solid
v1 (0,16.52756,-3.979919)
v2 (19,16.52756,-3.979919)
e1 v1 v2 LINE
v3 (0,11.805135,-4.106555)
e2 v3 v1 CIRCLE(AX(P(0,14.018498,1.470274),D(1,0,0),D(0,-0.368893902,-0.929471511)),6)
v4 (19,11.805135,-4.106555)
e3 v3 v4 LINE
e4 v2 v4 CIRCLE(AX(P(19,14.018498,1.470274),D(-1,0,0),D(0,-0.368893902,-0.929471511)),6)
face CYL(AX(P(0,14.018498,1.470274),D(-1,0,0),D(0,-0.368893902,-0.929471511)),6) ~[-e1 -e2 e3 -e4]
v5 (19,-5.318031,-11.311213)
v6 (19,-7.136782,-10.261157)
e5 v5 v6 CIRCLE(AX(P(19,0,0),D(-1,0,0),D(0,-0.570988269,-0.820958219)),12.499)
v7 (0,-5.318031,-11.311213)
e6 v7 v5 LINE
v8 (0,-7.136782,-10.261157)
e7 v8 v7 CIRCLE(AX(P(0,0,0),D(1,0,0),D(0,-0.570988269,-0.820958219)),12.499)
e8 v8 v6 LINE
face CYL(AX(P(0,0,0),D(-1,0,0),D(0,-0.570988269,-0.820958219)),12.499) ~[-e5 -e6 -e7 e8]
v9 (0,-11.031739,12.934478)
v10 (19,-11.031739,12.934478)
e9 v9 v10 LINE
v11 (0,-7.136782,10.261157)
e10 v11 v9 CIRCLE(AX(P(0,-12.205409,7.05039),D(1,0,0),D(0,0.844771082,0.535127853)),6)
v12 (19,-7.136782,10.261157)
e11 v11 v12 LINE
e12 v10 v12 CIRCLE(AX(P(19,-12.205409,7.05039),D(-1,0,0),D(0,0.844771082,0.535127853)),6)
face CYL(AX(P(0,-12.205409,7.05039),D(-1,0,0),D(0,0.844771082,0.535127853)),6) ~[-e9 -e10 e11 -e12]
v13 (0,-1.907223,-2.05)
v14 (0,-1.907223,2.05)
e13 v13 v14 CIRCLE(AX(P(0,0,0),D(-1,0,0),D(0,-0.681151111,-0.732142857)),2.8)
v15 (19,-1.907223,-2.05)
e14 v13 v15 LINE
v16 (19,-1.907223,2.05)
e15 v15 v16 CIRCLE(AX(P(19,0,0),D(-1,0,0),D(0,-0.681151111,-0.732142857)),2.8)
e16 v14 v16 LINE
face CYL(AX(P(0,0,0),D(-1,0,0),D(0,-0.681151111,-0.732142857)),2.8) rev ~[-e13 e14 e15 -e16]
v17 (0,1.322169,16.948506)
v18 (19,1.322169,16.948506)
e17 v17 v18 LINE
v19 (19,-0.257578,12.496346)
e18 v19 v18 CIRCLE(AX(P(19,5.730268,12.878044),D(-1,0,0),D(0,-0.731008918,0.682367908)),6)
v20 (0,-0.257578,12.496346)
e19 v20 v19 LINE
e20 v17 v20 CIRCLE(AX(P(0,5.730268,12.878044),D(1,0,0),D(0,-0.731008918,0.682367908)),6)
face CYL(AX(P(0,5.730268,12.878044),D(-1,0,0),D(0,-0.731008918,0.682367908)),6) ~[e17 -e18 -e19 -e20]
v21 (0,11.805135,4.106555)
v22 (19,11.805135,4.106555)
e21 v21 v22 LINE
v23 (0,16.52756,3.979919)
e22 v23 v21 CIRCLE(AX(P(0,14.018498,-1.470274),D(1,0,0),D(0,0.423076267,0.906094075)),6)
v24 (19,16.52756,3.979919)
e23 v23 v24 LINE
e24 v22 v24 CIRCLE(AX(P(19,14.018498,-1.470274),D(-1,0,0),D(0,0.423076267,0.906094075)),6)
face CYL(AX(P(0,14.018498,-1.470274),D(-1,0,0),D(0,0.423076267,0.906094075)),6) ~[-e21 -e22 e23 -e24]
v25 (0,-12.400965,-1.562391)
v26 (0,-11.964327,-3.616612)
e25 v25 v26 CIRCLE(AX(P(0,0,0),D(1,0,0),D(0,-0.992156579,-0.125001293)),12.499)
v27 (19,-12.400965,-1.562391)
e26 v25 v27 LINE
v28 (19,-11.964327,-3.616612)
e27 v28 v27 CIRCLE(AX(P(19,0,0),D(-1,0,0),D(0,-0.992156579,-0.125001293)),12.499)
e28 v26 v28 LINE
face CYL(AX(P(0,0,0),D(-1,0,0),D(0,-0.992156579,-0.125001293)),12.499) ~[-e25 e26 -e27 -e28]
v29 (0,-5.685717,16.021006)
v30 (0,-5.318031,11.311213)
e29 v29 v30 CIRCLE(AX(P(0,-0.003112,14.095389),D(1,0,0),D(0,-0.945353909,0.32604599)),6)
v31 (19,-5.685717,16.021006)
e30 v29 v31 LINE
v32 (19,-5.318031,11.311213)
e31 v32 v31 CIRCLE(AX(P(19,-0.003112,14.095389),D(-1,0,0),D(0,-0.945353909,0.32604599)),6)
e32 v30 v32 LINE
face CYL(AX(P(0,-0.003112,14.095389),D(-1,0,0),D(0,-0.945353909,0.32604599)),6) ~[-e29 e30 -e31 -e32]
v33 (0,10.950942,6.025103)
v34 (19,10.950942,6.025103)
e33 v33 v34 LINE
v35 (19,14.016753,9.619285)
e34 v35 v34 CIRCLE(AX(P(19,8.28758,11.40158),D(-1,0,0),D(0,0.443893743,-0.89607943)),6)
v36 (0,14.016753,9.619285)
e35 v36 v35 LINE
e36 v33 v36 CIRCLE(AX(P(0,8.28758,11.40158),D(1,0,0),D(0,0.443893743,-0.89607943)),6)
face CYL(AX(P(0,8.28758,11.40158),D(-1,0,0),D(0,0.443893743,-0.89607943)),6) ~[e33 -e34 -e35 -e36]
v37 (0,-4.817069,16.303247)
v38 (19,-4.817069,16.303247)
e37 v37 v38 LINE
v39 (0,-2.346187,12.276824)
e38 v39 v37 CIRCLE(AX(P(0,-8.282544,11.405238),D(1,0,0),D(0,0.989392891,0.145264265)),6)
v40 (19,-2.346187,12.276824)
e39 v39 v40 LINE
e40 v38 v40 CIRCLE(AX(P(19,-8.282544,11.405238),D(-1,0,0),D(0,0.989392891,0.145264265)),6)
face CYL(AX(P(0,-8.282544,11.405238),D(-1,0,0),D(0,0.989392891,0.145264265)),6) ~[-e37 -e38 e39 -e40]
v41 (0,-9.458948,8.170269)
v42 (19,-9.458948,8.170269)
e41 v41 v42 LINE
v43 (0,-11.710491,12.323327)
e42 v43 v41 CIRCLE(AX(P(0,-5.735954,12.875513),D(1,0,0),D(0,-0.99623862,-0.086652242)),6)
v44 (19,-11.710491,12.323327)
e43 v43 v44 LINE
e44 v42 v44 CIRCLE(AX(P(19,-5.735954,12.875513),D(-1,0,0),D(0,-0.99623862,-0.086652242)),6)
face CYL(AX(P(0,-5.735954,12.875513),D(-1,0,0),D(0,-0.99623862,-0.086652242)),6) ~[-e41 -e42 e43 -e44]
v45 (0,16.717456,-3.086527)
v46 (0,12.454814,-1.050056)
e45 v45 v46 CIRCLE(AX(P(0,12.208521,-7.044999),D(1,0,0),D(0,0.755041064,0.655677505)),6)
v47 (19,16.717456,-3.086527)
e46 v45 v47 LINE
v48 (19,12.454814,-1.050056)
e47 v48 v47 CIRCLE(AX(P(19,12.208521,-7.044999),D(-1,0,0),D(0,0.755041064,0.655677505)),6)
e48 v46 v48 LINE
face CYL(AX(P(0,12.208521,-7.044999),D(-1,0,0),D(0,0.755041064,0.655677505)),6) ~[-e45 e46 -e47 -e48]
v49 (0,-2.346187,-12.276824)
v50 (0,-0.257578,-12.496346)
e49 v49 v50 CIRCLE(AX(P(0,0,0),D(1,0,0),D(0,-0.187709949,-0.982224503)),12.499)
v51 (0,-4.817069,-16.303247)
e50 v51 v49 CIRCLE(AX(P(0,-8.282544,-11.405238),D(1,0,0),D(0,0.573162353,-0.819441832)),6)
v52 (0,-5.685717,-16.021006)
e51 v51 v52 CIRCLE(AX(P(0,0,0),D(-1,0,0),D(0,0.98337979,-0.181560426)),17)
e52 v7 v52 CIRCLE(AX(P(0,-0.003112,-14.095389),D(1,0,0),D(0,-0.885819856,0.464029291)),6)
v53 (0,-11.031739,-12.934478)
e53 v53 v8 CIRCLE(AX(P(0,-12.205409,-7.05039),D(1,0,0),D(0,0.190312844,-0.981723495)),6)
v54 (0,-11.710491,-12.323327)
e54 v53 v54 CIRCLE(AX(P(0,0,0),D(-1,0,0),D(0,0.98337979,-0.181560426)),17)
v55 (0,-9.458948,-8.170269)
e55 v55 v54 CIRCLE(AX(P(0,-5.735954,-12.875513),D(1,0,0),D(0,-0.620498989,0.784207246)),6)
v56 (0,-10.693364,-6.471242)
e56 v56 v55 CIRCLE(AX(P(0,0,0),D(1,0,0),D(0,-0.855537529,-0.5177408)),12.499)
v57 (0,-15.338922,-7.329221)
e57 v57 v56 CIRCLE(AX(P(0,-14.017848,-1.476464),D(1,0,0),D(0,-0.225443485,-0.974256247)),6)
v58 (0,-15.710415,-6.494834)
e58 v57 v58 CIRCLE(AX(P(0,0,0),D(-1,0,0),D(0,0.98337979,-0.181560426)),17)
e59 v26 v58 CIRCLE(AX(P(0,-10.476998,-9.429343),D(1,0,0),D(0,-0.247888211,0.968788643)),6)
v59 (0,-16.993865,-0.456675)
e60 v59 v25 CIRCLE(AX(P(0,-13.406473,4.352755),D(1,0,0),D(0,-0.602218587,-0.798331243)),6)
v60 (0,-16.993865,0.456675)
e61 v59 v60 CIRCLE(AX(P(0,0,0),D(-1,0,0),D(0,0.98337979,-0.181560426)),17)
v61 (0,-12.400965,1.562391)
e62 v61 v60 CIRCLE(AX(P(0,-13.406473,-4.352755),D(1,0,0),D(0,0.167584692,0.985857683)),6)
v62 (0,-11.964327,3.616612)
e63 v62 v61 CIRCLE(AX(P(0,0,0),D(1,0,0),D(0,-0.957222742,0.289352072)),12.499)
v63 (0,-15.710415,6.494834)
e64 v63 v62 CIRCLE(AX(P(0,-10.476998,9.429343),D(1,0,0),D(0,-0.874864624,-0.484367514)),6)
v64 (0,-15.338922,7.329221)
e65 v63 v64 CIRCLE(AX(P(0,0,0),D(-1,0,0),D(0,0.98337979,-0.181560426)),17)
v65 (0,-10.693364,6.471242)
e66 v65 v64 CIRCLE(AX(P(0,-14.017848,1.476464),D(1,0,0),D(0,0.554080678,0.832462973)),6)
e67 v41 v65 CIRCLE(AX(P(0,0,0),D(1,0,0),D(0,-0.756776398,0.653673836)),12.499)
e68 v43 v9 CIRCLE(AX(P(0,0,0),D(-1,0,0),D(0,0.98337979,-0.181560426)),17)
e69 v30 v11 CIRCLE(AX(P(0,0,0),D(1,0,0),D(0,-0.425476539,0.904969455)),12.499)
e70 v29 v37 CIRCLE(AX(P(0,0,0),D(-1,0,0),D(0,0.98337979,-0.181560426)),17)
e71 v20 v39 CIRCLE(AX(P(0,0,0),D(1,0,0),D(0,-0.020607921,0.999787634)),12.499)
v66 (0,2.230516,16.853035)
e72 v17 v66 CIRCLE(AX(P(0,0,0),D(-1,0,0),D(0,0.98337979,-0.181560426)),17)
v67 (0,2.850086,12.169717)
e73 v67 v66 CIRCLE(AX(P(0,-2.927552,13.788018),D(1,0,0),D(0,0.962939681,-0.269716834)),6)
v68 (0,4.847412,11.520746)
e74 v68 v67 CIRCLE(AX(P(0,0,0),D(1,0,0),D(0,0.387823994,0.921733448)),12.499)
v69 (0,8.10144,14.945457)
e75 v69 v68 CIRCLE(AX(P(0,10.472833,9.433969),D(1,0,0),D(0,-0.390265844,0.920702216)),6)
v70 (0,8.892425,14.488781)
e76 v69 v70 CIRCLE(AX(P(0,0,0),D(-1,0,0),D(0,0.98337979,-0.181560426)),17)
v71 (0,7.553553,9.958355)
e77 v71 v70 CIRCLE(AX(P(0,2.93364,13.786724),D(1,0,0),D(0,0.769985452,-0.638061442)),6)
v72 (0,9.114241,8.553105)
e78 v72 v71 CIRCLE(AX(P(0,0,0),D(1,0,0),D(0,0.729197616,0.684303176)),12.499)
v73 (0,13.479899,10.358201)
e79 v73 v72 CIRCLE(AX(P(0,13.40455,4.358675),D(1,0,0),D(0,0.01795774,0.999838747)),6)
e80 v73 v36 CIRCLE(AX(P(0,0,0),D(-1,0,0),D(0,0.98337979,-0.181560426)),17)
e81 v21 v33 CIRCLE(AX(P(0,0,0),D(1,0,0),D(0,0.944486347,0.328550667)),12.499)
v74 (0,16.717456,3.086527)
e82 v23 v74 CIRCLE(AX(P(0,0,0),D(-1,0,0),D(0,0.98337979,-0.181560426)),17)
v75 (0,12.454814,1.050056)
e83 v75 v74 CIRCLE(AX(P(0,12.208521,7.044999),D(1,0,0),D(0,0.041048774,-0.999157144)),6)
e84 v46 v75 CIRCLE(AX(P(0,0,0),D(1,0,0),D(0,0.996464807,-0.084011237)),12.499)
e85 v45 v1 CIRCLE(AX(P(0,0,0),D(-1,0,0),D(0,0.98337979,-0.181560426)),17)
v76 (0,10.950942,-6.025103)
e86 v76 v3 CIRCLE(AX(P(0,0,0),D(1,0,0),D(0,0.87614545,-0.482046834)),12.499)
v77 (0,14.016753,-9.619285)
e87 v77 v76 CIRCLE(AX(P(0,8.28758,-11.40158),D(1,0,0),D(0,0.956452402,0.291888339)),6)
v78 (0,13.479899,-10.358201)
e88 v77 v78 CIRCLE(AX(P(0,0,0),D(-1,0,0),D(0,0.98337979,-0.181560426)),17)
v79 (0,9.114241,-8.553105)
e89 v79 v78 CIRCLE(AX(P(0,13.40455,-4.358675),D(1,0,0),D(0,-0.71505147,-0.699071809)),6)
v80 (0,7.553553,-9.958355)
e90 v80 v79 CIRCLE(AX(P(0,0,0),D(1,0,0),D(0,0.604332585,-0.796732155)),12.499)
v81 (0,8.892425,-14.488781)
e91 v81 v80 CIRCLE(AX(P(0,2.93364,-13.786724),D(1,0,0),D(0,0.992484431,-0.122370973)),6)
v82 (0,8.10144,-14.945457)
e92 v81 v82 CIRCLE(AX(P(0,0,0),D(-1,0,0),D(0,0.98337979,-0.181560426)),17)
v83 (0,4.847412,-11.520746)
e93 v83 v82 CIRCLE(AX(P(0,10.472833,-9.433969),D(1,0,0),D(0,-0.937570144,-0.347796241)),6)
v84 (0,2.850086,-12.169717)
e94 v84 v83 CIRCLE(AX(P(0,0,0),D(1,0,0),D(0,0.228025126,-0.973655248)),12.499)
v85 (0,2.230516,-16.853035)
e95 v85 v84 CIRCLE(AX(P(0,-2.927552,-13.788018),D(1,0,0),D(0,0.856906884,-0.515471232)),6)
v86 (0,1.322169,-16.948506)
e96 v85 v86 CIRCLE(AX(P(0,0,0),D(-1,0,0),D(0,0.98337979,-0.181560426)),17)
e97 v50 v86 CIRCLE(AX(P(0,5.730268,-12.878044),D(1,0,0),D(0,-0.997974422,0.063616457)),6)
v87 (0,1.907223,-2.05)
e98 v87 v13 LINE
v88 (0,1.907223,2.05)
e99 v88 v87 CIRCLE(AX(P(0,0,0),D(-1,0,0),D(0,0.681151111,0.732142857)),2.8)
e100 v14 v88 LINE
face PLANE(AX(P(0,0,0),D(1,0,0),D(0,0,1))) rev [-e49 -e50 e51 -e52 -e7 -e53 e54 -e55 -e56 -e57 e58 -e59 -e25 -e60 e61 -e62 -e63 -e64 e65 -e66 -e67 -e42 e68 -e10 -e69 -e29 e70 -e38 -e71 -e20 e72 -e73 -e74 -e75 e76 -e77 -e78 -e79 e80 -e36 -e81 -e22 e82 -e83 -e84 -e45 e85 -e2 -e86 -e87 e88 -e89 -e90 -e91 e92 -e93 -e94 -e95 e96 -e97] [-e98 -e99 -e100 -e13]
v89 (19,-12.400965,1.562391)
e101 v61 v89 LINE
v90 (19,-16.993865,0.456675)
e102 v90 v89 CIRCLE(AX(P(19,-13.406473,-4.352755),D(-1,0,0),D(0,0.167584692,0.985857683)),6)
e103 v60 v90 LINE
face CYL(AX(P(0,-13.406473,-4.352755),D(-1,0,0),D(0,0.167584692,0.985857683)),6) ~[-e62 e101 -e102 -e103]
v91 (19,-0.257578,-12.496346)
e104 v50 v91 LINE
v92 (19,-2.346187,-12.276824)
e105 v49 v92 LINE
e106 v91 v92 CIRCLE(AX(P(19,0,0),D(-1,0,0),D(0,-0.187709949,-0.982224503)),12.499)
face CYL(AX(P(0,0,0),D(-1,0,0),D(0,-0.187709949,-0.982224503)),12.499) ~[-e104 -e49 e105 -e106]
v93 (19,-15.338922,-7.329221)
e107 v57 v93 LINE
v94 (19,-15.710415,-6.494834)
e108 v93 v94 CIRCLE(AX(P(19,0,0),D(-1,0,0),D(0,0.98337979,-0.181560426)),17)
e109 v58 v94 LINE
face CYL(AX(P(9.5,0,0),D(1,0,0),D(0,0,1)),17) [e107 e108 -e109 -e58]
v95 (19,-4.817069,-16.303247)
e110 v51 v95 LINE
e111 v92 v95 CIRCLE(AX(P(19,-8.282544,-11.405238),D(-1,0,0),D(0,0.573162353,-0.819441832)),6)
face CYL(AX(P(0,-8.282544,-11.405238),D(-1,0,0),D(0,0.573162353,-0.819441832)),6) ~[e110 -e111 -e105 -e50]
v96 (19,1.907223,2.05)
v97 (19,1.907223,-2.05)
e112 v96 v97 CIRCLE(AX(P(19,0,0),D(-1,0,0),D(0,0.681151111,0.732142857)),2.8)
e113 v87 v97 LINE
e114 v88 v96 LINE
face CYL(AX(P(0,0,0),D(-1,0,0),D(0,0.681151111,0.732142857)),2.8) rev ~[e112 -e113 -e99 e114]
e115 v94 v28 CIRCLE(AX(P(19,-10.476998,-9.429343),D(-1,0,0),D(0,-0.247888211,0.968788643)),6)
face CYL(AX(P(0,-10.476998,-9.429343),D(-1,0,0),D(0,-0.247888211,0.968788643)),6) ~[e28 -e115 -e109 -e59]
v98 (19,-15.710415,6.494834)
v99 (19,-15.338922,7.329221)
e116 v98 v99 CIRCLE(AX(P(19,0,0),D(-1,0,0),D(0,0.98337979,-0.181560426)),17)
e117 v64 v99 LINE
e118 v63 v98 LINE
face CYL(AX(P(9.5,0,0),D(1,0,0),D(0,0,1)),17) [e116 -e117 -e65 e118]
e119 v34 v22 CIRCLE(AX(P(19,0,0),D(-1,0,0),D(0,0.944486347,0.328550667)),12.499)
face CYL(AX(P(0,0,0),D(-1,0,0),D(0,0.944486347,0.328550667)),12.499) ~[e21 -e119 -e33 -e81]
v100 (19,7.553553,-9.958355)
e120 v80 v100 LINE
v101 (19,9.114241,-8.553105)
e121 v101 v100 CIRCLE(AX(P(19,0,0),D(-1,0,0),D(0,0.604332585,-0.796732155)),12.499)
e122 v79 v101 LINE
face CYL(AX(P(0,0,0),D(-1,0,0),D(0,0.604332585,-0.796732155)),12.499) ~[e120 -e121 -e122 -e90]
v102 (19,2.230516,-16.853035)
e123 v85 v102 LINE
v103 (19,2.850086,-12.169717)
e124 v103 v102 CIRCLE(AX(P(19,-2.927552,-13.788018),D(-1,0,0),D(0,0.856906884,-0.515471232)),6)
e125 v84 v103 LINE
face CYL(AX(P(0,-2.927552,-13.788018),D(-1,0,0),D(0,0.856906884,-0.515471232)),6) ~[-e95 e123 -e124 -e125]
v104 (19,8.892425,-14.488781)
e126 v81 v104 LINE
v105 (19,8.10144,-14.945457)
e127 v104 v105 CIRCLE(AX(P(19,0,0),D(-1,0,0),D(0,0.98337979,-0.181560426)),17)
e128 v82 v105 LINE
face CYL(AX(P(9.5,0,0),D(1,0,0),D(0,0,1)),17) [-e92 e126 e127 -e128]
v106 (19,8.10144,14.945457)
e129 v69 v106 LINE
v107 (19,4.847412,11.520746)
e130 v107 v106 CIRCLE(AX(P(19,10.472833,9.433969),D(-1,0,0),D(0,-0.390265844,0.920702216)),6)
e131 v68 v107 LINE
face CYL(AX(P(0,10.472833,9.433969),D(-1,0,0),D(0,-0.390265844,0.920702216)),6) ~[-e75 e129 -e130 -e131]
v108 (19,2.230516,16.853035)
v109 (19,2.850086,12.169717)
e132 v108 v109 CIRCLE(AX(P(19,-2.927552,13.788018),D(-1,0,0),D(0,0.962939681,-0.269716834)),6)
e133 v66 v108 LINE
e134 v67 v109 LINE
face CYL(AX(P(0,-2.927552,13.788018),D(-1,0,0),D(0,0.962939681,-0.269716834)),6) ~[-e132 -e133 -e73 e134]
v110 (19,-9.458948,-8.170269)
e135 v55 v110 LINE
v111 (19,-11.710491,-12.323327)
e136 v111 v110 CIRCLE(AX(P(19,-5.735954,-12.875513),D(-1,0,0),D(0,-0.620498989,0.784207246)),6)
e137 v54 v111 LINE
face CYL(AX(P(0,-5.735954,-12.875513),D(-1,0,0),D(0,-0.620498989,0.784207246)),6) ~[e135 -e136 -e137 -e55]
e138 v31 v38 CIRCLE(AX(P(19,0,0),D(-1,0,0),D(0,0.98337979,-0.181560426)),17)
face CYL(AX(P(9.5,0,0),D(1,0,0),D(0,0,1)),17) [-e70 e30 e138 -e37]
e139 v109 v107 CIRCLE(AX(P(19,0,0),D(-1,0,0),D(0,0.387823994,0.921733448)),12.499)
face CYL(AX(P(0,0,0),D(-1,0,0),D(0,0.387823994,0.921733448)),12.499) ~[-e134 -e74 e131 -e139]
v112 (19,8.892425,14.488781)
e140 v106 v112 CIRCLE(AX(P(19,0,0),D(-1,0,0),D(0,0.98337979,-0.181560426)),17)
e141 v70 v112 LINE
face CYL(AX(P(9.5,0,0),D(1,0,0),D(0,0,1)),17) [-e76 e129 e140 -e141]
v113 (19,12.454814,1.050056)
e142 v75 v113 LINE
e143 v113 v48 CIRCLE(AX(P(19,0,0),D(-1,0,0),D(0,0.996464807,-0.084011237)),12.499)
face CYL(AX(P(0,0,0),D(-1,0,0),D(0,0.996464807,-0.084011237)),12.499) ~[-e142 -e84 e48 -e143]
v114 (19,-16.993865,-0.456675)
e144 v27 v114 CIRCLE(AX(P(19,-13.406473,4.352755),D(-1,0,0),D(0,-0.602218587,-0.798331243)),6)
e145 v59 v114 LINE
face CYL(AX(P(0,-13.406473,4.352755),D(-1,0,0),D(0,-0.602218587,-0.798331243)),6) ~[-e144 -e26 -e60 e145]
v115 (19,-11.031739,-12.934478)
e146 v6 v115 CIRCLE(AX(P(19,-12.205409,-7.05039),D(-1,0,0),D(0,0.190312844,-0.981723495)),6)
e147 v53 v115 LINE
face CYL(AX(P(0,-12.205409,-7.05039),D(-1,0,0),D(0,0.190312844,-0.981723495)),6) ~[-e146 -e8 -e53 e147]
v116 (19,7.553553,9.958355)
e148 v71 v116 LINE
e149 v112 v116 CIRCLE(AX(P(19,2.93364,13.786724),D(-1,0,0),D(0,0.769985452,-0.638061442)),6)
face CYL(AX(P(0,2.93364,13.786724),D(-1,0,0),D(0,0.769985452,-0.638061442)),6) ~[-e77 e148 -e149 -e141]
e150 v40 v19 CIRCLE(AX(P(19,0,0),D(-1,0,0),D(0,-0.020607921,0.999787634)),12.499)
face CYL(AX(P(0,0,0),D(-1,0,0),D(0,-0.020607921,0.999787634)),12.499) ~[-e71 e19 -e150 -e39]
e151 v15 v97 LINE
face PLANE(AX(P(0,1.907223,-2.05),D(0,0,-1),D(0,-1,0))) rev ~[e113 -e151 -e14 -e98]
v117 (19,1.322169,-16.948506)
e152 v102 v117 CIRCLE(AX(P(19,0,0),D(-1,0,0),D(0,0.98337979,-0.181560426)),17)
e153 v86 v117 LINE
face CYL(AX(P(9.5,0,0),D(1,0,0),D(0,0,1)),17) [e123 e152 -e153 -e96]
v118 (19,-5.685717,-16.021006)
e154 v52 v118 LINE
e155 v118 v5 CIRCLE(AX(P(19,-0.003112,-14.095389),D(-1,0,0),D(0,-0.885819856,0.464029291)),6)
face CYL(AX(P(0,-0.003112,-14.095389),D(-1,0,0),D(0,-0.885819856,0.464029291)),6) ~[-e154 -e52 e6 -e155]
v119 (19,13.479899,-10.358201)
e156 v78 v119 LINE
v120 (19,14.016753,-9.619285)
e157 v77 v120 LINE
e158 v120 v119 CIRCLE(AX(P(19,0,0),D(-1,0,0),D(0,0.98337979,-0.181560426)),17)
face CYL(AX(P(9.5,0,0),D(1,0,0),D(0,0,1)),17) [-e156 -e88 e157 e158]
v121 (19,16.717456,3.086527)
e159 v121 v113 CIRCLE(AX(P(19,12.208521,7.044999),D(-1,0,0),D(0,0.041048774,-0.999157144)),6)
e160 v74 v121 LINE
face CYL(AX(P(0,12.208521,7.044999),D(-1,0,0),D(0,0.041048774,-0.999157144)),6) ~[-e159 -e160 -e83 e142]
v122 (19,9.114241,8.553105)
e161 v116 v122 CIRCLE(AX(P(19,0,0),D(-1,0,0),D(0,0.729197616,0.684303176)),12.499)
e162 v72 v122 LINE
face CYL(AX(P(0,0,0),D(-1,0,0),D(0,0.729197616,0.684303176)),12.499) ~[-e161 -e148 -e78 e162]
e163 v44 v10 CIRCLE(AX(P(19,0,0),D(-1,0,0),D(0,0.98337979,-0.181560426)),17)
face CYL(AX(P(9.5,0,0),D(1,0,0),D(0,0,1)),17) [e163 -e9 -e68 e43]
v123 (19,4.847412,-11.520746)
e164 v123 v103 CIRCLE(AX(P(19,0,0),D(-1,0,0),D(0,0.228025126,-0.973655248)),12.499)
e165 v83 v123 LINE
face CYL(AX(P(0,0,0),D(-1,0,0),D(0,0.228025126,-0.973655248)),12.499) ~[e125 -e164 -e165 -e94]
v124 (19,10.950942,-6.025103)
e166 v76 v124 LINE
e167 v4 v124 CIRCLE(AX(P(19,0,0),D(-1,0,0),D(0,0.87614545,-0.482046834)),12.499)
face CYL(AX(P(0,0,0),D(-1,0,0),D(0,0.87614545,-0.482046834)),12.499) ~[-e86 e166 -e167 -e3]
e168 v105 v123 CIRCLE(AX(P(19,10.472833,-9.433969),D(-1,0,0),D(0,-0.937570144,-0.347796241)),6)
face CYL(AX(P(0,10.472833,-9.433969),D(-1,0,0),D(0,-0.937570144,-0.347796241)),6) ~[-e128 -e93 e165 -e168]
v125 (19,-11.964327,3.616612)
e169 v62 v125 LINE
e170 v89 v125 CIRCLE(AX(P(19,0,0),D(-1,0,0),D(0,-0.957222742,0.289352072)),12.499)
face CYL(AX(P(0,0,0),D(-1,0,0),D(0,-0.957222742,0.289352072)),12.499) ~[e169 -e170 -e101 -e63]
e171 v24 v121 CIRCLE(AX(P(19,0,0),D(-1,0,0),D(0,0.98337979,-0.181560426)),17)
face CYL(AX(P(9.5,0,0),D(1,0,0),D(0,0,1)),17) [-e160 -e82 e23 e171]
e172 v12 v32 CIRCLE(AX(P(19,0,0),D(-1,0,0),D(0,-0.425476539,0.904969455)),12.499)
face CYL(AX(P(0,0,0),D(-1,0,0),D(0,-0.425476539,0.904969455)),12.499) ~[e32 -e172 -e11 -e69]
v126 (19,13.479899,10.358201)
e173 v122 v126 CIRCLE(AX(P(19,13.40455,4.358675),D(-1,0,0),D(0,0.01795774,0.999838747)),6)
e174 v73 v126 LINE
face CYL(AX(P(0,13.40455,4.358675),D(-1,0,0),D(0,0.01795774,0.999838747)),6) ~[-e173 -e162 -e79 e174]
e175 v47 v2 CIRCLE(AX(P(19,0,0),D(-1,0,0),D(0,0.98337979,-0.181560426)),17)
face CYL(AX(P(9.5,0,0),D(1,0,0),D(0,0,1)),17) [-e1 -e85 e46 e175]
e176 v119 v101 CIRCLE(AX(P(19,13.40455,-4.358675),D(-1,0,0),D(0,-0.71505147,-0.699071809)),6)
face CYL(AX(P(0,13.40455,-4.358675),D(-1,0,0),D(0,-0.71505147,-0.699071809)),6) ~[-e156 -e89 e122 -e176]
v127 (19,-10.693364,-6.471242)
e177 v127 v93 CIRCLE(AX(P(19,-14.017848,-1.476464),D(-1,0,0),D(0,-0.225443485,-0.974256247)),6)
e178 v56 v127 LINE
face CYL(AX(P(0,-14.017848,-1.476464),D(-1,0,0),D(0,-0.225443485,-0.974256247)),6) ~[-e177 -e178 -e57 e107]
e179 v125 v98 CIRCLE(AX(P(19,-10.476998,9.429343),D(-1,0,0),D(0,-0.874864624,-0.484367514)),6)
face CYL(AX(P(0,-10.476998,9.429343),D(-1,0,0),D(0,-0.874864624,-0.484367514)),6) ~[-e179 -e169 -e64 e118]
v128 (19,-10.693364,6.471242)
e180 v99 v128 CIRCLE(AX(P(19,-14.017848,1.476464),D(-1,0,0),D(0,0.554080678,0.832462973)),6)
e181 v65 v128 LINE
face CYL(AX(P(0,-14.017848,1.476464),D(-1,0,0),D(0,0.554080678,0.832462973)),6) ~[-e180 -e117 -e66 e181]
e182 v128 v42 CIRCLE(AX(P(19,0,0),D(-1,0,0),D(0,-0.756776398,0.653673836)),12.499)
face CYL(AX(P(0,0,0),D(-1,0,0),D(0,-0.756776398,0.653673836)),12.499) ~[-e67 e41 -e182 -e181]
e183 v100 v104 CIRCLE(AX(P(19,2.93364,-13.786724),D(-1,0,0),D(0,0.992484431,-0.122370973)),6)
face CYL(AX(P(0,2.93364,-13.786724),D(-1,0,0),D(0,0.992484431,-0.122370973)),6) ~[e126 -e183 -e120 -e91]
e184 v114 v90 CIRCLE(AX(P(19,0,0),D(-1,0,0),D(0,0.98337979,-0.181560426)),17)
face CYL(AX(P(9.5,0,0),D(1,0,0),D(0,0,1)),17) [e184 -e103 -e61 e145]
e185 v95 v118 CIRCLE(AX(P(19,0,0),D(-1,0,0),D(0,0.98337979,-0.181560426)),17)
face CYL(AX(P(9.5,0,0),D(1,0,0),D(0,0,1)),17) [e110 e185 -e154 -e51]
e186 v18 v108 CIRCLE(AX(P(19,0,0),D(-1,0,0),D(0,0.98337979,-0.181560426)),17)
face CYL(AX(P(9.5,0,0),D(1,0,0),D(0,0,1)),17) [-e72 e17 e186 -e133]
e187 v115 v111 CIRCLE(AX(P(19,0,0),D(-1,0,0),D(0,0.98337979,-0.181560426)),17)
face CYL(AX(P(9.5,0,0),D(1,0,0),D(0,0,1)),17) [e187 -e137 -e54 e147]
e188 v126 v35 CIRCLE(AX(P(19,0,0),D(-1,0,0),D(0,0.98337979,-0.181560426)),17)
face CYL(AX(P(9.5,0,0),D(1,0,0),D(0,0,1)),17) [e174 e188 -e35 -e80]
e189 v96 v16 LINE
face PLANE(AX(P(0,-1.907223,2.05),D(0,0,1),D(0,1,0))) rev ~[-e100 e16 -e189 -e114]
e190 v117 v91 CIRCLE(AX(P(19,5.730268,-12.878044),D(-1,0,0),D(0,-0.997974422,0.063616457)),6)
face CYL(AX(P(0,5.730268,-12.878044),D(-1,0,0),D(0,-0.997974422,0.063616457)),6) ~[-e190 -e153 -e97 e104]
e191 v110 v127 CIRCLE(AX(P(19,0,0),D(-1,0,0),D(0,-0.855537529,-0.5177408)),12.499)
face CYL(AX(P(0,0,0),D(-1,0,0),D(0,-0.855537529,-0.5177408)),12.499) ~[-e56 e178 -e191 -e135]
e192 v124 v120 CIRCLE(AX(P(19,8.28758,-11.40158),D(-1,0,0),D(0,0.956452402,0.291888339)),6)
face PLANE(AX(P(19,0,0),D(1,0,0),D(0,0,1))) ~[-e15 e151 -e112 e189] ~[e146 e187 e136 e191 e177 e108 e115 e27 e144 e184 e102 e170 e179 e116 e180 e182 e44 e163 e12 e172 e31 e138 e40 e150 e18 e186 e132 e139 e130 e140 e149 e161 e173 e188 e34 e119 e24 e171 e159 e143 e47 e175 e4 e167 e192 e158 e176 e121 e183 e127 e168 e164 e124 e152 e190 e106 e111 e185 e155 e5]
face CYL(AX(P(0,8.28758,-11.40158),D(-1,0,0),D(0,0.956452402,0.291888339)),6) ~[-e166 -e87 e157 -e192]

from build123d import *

# Parameters (mm, degrees)
BASPROSKE_W        = 19
BASPROSKE_H        = 17
TOOTHCUT_DEPTH     = 31.643106892
TEETHCUTS_COUNT    = 15
TEETHCUTS_ANGLE    = 336
BORSKE_R           = 0.4
BORE_DEPTH         = 50.0000508
CUT_EXTRUDE1_REACH = 32.615


with BuildPart() as part:
    # BasProSke → Base-Revolve (revolve)
    with BuildSketch(Plane(origin=(0, 0, 0), x_dir=(1, 0, 0), z_dir=(0, 1, 0)), mode=Mode.PRIVATE) as base_revolve_sk:
        with Locations((9.5, 8.5)):
            Rectangle(BASPROSKE_W, BASPROSKE_H)
    revolve(base_revolve_sk.sketch.rotate(Axis((-10, 0, 0), (1, 0, 0)), 180), axis=Axis((-10, 0, 0), (1, 0, 0)))

    # TooCutSke → ToothCut (cut, through all)
    with BuildSketch(Plane(origin=(0, 0, 0), x_dir=(0, 0, -1), z_dir=(1, 0, 0))):
        with BuildLine():
            ThreePointArc((1.050056448, 12.454813626), (0, 12.499), (-1.050056448, 12.454813626))
            ThreePointArc((-1.050056448, 12.454813626), (-1.638118106, 14.809604533), (-3.110934279, 16.73876737))
            ThreePointArc((-3.110934279, 16.73876737), (0, 17.0254), (3.110934279, 16.73876737))
            ThreePointArc((3.110934279, 16.73876737), (1.638118106, 14.809604533), (1.050056448, 12.454813626))
        make_face()
    toothcut = extrude(amount=TOOTHCUT_DEPTH, mode=Mode.SUBTRACT)

    # TeethCuts: ToothCut ×15 about axis
    teethcuts_axis = Axis((-10, 0, 0), (1, 0, 0))
    for i in range(1, TEETHCUTS_COUNT):
        add(toothcut.rotate(teethcuts_axis, i * TEETHCUTS_ANGLE / (TEETHCUTS_COUNT - 1)), mode=Mode.SUBTRACT)

    # BorSke → Bore (cut, symmetric)
    with BuildSketch(Plane(origin=(0, 0, 0), x_dir=(0, 0, -1), z_dir=(1, 0, 0))):
        with Locations(Location((0, 0, 0), (0, 0, 180))):
            Circle(BORSKE_R)
    extrude(amount=BORE_DEPTH, both=True, mode=Mode.SUBTRACT)

    # Sketch1 → Cut-Extrude1 (cut, up to next)
    with BuildSketch(Plane.ZY, mode=Mode.PRIVATE) as cut_extrude1_sk1:
        with BuildLine():
            Line((2.05, -1.907223112), (2.05, 1.907223112))
            ThreePointArc((2.05, 1.907223112), (0, 2.8), (-2.05, 1.907223112))
            Line((-2.05, 1.907223112), (-2.05, -1.907223112))
            ThreePointArc((-2.05, -1.907223112), (0, -2.8), (2.05, -1.907223112))
        make_face()
    cut_extrude1_tool1 = extrude(cut_extrude1_sk1.sketch, amount=-CUT_EXTRUDE1_REACH, mode=Mode.PRIVATE) & part.part
    add(cut_extrude1_tool1.solids().sort_by_distance((0, 0, 0))[0], mode=Mode.SUBTRACT)


solid = part.part
